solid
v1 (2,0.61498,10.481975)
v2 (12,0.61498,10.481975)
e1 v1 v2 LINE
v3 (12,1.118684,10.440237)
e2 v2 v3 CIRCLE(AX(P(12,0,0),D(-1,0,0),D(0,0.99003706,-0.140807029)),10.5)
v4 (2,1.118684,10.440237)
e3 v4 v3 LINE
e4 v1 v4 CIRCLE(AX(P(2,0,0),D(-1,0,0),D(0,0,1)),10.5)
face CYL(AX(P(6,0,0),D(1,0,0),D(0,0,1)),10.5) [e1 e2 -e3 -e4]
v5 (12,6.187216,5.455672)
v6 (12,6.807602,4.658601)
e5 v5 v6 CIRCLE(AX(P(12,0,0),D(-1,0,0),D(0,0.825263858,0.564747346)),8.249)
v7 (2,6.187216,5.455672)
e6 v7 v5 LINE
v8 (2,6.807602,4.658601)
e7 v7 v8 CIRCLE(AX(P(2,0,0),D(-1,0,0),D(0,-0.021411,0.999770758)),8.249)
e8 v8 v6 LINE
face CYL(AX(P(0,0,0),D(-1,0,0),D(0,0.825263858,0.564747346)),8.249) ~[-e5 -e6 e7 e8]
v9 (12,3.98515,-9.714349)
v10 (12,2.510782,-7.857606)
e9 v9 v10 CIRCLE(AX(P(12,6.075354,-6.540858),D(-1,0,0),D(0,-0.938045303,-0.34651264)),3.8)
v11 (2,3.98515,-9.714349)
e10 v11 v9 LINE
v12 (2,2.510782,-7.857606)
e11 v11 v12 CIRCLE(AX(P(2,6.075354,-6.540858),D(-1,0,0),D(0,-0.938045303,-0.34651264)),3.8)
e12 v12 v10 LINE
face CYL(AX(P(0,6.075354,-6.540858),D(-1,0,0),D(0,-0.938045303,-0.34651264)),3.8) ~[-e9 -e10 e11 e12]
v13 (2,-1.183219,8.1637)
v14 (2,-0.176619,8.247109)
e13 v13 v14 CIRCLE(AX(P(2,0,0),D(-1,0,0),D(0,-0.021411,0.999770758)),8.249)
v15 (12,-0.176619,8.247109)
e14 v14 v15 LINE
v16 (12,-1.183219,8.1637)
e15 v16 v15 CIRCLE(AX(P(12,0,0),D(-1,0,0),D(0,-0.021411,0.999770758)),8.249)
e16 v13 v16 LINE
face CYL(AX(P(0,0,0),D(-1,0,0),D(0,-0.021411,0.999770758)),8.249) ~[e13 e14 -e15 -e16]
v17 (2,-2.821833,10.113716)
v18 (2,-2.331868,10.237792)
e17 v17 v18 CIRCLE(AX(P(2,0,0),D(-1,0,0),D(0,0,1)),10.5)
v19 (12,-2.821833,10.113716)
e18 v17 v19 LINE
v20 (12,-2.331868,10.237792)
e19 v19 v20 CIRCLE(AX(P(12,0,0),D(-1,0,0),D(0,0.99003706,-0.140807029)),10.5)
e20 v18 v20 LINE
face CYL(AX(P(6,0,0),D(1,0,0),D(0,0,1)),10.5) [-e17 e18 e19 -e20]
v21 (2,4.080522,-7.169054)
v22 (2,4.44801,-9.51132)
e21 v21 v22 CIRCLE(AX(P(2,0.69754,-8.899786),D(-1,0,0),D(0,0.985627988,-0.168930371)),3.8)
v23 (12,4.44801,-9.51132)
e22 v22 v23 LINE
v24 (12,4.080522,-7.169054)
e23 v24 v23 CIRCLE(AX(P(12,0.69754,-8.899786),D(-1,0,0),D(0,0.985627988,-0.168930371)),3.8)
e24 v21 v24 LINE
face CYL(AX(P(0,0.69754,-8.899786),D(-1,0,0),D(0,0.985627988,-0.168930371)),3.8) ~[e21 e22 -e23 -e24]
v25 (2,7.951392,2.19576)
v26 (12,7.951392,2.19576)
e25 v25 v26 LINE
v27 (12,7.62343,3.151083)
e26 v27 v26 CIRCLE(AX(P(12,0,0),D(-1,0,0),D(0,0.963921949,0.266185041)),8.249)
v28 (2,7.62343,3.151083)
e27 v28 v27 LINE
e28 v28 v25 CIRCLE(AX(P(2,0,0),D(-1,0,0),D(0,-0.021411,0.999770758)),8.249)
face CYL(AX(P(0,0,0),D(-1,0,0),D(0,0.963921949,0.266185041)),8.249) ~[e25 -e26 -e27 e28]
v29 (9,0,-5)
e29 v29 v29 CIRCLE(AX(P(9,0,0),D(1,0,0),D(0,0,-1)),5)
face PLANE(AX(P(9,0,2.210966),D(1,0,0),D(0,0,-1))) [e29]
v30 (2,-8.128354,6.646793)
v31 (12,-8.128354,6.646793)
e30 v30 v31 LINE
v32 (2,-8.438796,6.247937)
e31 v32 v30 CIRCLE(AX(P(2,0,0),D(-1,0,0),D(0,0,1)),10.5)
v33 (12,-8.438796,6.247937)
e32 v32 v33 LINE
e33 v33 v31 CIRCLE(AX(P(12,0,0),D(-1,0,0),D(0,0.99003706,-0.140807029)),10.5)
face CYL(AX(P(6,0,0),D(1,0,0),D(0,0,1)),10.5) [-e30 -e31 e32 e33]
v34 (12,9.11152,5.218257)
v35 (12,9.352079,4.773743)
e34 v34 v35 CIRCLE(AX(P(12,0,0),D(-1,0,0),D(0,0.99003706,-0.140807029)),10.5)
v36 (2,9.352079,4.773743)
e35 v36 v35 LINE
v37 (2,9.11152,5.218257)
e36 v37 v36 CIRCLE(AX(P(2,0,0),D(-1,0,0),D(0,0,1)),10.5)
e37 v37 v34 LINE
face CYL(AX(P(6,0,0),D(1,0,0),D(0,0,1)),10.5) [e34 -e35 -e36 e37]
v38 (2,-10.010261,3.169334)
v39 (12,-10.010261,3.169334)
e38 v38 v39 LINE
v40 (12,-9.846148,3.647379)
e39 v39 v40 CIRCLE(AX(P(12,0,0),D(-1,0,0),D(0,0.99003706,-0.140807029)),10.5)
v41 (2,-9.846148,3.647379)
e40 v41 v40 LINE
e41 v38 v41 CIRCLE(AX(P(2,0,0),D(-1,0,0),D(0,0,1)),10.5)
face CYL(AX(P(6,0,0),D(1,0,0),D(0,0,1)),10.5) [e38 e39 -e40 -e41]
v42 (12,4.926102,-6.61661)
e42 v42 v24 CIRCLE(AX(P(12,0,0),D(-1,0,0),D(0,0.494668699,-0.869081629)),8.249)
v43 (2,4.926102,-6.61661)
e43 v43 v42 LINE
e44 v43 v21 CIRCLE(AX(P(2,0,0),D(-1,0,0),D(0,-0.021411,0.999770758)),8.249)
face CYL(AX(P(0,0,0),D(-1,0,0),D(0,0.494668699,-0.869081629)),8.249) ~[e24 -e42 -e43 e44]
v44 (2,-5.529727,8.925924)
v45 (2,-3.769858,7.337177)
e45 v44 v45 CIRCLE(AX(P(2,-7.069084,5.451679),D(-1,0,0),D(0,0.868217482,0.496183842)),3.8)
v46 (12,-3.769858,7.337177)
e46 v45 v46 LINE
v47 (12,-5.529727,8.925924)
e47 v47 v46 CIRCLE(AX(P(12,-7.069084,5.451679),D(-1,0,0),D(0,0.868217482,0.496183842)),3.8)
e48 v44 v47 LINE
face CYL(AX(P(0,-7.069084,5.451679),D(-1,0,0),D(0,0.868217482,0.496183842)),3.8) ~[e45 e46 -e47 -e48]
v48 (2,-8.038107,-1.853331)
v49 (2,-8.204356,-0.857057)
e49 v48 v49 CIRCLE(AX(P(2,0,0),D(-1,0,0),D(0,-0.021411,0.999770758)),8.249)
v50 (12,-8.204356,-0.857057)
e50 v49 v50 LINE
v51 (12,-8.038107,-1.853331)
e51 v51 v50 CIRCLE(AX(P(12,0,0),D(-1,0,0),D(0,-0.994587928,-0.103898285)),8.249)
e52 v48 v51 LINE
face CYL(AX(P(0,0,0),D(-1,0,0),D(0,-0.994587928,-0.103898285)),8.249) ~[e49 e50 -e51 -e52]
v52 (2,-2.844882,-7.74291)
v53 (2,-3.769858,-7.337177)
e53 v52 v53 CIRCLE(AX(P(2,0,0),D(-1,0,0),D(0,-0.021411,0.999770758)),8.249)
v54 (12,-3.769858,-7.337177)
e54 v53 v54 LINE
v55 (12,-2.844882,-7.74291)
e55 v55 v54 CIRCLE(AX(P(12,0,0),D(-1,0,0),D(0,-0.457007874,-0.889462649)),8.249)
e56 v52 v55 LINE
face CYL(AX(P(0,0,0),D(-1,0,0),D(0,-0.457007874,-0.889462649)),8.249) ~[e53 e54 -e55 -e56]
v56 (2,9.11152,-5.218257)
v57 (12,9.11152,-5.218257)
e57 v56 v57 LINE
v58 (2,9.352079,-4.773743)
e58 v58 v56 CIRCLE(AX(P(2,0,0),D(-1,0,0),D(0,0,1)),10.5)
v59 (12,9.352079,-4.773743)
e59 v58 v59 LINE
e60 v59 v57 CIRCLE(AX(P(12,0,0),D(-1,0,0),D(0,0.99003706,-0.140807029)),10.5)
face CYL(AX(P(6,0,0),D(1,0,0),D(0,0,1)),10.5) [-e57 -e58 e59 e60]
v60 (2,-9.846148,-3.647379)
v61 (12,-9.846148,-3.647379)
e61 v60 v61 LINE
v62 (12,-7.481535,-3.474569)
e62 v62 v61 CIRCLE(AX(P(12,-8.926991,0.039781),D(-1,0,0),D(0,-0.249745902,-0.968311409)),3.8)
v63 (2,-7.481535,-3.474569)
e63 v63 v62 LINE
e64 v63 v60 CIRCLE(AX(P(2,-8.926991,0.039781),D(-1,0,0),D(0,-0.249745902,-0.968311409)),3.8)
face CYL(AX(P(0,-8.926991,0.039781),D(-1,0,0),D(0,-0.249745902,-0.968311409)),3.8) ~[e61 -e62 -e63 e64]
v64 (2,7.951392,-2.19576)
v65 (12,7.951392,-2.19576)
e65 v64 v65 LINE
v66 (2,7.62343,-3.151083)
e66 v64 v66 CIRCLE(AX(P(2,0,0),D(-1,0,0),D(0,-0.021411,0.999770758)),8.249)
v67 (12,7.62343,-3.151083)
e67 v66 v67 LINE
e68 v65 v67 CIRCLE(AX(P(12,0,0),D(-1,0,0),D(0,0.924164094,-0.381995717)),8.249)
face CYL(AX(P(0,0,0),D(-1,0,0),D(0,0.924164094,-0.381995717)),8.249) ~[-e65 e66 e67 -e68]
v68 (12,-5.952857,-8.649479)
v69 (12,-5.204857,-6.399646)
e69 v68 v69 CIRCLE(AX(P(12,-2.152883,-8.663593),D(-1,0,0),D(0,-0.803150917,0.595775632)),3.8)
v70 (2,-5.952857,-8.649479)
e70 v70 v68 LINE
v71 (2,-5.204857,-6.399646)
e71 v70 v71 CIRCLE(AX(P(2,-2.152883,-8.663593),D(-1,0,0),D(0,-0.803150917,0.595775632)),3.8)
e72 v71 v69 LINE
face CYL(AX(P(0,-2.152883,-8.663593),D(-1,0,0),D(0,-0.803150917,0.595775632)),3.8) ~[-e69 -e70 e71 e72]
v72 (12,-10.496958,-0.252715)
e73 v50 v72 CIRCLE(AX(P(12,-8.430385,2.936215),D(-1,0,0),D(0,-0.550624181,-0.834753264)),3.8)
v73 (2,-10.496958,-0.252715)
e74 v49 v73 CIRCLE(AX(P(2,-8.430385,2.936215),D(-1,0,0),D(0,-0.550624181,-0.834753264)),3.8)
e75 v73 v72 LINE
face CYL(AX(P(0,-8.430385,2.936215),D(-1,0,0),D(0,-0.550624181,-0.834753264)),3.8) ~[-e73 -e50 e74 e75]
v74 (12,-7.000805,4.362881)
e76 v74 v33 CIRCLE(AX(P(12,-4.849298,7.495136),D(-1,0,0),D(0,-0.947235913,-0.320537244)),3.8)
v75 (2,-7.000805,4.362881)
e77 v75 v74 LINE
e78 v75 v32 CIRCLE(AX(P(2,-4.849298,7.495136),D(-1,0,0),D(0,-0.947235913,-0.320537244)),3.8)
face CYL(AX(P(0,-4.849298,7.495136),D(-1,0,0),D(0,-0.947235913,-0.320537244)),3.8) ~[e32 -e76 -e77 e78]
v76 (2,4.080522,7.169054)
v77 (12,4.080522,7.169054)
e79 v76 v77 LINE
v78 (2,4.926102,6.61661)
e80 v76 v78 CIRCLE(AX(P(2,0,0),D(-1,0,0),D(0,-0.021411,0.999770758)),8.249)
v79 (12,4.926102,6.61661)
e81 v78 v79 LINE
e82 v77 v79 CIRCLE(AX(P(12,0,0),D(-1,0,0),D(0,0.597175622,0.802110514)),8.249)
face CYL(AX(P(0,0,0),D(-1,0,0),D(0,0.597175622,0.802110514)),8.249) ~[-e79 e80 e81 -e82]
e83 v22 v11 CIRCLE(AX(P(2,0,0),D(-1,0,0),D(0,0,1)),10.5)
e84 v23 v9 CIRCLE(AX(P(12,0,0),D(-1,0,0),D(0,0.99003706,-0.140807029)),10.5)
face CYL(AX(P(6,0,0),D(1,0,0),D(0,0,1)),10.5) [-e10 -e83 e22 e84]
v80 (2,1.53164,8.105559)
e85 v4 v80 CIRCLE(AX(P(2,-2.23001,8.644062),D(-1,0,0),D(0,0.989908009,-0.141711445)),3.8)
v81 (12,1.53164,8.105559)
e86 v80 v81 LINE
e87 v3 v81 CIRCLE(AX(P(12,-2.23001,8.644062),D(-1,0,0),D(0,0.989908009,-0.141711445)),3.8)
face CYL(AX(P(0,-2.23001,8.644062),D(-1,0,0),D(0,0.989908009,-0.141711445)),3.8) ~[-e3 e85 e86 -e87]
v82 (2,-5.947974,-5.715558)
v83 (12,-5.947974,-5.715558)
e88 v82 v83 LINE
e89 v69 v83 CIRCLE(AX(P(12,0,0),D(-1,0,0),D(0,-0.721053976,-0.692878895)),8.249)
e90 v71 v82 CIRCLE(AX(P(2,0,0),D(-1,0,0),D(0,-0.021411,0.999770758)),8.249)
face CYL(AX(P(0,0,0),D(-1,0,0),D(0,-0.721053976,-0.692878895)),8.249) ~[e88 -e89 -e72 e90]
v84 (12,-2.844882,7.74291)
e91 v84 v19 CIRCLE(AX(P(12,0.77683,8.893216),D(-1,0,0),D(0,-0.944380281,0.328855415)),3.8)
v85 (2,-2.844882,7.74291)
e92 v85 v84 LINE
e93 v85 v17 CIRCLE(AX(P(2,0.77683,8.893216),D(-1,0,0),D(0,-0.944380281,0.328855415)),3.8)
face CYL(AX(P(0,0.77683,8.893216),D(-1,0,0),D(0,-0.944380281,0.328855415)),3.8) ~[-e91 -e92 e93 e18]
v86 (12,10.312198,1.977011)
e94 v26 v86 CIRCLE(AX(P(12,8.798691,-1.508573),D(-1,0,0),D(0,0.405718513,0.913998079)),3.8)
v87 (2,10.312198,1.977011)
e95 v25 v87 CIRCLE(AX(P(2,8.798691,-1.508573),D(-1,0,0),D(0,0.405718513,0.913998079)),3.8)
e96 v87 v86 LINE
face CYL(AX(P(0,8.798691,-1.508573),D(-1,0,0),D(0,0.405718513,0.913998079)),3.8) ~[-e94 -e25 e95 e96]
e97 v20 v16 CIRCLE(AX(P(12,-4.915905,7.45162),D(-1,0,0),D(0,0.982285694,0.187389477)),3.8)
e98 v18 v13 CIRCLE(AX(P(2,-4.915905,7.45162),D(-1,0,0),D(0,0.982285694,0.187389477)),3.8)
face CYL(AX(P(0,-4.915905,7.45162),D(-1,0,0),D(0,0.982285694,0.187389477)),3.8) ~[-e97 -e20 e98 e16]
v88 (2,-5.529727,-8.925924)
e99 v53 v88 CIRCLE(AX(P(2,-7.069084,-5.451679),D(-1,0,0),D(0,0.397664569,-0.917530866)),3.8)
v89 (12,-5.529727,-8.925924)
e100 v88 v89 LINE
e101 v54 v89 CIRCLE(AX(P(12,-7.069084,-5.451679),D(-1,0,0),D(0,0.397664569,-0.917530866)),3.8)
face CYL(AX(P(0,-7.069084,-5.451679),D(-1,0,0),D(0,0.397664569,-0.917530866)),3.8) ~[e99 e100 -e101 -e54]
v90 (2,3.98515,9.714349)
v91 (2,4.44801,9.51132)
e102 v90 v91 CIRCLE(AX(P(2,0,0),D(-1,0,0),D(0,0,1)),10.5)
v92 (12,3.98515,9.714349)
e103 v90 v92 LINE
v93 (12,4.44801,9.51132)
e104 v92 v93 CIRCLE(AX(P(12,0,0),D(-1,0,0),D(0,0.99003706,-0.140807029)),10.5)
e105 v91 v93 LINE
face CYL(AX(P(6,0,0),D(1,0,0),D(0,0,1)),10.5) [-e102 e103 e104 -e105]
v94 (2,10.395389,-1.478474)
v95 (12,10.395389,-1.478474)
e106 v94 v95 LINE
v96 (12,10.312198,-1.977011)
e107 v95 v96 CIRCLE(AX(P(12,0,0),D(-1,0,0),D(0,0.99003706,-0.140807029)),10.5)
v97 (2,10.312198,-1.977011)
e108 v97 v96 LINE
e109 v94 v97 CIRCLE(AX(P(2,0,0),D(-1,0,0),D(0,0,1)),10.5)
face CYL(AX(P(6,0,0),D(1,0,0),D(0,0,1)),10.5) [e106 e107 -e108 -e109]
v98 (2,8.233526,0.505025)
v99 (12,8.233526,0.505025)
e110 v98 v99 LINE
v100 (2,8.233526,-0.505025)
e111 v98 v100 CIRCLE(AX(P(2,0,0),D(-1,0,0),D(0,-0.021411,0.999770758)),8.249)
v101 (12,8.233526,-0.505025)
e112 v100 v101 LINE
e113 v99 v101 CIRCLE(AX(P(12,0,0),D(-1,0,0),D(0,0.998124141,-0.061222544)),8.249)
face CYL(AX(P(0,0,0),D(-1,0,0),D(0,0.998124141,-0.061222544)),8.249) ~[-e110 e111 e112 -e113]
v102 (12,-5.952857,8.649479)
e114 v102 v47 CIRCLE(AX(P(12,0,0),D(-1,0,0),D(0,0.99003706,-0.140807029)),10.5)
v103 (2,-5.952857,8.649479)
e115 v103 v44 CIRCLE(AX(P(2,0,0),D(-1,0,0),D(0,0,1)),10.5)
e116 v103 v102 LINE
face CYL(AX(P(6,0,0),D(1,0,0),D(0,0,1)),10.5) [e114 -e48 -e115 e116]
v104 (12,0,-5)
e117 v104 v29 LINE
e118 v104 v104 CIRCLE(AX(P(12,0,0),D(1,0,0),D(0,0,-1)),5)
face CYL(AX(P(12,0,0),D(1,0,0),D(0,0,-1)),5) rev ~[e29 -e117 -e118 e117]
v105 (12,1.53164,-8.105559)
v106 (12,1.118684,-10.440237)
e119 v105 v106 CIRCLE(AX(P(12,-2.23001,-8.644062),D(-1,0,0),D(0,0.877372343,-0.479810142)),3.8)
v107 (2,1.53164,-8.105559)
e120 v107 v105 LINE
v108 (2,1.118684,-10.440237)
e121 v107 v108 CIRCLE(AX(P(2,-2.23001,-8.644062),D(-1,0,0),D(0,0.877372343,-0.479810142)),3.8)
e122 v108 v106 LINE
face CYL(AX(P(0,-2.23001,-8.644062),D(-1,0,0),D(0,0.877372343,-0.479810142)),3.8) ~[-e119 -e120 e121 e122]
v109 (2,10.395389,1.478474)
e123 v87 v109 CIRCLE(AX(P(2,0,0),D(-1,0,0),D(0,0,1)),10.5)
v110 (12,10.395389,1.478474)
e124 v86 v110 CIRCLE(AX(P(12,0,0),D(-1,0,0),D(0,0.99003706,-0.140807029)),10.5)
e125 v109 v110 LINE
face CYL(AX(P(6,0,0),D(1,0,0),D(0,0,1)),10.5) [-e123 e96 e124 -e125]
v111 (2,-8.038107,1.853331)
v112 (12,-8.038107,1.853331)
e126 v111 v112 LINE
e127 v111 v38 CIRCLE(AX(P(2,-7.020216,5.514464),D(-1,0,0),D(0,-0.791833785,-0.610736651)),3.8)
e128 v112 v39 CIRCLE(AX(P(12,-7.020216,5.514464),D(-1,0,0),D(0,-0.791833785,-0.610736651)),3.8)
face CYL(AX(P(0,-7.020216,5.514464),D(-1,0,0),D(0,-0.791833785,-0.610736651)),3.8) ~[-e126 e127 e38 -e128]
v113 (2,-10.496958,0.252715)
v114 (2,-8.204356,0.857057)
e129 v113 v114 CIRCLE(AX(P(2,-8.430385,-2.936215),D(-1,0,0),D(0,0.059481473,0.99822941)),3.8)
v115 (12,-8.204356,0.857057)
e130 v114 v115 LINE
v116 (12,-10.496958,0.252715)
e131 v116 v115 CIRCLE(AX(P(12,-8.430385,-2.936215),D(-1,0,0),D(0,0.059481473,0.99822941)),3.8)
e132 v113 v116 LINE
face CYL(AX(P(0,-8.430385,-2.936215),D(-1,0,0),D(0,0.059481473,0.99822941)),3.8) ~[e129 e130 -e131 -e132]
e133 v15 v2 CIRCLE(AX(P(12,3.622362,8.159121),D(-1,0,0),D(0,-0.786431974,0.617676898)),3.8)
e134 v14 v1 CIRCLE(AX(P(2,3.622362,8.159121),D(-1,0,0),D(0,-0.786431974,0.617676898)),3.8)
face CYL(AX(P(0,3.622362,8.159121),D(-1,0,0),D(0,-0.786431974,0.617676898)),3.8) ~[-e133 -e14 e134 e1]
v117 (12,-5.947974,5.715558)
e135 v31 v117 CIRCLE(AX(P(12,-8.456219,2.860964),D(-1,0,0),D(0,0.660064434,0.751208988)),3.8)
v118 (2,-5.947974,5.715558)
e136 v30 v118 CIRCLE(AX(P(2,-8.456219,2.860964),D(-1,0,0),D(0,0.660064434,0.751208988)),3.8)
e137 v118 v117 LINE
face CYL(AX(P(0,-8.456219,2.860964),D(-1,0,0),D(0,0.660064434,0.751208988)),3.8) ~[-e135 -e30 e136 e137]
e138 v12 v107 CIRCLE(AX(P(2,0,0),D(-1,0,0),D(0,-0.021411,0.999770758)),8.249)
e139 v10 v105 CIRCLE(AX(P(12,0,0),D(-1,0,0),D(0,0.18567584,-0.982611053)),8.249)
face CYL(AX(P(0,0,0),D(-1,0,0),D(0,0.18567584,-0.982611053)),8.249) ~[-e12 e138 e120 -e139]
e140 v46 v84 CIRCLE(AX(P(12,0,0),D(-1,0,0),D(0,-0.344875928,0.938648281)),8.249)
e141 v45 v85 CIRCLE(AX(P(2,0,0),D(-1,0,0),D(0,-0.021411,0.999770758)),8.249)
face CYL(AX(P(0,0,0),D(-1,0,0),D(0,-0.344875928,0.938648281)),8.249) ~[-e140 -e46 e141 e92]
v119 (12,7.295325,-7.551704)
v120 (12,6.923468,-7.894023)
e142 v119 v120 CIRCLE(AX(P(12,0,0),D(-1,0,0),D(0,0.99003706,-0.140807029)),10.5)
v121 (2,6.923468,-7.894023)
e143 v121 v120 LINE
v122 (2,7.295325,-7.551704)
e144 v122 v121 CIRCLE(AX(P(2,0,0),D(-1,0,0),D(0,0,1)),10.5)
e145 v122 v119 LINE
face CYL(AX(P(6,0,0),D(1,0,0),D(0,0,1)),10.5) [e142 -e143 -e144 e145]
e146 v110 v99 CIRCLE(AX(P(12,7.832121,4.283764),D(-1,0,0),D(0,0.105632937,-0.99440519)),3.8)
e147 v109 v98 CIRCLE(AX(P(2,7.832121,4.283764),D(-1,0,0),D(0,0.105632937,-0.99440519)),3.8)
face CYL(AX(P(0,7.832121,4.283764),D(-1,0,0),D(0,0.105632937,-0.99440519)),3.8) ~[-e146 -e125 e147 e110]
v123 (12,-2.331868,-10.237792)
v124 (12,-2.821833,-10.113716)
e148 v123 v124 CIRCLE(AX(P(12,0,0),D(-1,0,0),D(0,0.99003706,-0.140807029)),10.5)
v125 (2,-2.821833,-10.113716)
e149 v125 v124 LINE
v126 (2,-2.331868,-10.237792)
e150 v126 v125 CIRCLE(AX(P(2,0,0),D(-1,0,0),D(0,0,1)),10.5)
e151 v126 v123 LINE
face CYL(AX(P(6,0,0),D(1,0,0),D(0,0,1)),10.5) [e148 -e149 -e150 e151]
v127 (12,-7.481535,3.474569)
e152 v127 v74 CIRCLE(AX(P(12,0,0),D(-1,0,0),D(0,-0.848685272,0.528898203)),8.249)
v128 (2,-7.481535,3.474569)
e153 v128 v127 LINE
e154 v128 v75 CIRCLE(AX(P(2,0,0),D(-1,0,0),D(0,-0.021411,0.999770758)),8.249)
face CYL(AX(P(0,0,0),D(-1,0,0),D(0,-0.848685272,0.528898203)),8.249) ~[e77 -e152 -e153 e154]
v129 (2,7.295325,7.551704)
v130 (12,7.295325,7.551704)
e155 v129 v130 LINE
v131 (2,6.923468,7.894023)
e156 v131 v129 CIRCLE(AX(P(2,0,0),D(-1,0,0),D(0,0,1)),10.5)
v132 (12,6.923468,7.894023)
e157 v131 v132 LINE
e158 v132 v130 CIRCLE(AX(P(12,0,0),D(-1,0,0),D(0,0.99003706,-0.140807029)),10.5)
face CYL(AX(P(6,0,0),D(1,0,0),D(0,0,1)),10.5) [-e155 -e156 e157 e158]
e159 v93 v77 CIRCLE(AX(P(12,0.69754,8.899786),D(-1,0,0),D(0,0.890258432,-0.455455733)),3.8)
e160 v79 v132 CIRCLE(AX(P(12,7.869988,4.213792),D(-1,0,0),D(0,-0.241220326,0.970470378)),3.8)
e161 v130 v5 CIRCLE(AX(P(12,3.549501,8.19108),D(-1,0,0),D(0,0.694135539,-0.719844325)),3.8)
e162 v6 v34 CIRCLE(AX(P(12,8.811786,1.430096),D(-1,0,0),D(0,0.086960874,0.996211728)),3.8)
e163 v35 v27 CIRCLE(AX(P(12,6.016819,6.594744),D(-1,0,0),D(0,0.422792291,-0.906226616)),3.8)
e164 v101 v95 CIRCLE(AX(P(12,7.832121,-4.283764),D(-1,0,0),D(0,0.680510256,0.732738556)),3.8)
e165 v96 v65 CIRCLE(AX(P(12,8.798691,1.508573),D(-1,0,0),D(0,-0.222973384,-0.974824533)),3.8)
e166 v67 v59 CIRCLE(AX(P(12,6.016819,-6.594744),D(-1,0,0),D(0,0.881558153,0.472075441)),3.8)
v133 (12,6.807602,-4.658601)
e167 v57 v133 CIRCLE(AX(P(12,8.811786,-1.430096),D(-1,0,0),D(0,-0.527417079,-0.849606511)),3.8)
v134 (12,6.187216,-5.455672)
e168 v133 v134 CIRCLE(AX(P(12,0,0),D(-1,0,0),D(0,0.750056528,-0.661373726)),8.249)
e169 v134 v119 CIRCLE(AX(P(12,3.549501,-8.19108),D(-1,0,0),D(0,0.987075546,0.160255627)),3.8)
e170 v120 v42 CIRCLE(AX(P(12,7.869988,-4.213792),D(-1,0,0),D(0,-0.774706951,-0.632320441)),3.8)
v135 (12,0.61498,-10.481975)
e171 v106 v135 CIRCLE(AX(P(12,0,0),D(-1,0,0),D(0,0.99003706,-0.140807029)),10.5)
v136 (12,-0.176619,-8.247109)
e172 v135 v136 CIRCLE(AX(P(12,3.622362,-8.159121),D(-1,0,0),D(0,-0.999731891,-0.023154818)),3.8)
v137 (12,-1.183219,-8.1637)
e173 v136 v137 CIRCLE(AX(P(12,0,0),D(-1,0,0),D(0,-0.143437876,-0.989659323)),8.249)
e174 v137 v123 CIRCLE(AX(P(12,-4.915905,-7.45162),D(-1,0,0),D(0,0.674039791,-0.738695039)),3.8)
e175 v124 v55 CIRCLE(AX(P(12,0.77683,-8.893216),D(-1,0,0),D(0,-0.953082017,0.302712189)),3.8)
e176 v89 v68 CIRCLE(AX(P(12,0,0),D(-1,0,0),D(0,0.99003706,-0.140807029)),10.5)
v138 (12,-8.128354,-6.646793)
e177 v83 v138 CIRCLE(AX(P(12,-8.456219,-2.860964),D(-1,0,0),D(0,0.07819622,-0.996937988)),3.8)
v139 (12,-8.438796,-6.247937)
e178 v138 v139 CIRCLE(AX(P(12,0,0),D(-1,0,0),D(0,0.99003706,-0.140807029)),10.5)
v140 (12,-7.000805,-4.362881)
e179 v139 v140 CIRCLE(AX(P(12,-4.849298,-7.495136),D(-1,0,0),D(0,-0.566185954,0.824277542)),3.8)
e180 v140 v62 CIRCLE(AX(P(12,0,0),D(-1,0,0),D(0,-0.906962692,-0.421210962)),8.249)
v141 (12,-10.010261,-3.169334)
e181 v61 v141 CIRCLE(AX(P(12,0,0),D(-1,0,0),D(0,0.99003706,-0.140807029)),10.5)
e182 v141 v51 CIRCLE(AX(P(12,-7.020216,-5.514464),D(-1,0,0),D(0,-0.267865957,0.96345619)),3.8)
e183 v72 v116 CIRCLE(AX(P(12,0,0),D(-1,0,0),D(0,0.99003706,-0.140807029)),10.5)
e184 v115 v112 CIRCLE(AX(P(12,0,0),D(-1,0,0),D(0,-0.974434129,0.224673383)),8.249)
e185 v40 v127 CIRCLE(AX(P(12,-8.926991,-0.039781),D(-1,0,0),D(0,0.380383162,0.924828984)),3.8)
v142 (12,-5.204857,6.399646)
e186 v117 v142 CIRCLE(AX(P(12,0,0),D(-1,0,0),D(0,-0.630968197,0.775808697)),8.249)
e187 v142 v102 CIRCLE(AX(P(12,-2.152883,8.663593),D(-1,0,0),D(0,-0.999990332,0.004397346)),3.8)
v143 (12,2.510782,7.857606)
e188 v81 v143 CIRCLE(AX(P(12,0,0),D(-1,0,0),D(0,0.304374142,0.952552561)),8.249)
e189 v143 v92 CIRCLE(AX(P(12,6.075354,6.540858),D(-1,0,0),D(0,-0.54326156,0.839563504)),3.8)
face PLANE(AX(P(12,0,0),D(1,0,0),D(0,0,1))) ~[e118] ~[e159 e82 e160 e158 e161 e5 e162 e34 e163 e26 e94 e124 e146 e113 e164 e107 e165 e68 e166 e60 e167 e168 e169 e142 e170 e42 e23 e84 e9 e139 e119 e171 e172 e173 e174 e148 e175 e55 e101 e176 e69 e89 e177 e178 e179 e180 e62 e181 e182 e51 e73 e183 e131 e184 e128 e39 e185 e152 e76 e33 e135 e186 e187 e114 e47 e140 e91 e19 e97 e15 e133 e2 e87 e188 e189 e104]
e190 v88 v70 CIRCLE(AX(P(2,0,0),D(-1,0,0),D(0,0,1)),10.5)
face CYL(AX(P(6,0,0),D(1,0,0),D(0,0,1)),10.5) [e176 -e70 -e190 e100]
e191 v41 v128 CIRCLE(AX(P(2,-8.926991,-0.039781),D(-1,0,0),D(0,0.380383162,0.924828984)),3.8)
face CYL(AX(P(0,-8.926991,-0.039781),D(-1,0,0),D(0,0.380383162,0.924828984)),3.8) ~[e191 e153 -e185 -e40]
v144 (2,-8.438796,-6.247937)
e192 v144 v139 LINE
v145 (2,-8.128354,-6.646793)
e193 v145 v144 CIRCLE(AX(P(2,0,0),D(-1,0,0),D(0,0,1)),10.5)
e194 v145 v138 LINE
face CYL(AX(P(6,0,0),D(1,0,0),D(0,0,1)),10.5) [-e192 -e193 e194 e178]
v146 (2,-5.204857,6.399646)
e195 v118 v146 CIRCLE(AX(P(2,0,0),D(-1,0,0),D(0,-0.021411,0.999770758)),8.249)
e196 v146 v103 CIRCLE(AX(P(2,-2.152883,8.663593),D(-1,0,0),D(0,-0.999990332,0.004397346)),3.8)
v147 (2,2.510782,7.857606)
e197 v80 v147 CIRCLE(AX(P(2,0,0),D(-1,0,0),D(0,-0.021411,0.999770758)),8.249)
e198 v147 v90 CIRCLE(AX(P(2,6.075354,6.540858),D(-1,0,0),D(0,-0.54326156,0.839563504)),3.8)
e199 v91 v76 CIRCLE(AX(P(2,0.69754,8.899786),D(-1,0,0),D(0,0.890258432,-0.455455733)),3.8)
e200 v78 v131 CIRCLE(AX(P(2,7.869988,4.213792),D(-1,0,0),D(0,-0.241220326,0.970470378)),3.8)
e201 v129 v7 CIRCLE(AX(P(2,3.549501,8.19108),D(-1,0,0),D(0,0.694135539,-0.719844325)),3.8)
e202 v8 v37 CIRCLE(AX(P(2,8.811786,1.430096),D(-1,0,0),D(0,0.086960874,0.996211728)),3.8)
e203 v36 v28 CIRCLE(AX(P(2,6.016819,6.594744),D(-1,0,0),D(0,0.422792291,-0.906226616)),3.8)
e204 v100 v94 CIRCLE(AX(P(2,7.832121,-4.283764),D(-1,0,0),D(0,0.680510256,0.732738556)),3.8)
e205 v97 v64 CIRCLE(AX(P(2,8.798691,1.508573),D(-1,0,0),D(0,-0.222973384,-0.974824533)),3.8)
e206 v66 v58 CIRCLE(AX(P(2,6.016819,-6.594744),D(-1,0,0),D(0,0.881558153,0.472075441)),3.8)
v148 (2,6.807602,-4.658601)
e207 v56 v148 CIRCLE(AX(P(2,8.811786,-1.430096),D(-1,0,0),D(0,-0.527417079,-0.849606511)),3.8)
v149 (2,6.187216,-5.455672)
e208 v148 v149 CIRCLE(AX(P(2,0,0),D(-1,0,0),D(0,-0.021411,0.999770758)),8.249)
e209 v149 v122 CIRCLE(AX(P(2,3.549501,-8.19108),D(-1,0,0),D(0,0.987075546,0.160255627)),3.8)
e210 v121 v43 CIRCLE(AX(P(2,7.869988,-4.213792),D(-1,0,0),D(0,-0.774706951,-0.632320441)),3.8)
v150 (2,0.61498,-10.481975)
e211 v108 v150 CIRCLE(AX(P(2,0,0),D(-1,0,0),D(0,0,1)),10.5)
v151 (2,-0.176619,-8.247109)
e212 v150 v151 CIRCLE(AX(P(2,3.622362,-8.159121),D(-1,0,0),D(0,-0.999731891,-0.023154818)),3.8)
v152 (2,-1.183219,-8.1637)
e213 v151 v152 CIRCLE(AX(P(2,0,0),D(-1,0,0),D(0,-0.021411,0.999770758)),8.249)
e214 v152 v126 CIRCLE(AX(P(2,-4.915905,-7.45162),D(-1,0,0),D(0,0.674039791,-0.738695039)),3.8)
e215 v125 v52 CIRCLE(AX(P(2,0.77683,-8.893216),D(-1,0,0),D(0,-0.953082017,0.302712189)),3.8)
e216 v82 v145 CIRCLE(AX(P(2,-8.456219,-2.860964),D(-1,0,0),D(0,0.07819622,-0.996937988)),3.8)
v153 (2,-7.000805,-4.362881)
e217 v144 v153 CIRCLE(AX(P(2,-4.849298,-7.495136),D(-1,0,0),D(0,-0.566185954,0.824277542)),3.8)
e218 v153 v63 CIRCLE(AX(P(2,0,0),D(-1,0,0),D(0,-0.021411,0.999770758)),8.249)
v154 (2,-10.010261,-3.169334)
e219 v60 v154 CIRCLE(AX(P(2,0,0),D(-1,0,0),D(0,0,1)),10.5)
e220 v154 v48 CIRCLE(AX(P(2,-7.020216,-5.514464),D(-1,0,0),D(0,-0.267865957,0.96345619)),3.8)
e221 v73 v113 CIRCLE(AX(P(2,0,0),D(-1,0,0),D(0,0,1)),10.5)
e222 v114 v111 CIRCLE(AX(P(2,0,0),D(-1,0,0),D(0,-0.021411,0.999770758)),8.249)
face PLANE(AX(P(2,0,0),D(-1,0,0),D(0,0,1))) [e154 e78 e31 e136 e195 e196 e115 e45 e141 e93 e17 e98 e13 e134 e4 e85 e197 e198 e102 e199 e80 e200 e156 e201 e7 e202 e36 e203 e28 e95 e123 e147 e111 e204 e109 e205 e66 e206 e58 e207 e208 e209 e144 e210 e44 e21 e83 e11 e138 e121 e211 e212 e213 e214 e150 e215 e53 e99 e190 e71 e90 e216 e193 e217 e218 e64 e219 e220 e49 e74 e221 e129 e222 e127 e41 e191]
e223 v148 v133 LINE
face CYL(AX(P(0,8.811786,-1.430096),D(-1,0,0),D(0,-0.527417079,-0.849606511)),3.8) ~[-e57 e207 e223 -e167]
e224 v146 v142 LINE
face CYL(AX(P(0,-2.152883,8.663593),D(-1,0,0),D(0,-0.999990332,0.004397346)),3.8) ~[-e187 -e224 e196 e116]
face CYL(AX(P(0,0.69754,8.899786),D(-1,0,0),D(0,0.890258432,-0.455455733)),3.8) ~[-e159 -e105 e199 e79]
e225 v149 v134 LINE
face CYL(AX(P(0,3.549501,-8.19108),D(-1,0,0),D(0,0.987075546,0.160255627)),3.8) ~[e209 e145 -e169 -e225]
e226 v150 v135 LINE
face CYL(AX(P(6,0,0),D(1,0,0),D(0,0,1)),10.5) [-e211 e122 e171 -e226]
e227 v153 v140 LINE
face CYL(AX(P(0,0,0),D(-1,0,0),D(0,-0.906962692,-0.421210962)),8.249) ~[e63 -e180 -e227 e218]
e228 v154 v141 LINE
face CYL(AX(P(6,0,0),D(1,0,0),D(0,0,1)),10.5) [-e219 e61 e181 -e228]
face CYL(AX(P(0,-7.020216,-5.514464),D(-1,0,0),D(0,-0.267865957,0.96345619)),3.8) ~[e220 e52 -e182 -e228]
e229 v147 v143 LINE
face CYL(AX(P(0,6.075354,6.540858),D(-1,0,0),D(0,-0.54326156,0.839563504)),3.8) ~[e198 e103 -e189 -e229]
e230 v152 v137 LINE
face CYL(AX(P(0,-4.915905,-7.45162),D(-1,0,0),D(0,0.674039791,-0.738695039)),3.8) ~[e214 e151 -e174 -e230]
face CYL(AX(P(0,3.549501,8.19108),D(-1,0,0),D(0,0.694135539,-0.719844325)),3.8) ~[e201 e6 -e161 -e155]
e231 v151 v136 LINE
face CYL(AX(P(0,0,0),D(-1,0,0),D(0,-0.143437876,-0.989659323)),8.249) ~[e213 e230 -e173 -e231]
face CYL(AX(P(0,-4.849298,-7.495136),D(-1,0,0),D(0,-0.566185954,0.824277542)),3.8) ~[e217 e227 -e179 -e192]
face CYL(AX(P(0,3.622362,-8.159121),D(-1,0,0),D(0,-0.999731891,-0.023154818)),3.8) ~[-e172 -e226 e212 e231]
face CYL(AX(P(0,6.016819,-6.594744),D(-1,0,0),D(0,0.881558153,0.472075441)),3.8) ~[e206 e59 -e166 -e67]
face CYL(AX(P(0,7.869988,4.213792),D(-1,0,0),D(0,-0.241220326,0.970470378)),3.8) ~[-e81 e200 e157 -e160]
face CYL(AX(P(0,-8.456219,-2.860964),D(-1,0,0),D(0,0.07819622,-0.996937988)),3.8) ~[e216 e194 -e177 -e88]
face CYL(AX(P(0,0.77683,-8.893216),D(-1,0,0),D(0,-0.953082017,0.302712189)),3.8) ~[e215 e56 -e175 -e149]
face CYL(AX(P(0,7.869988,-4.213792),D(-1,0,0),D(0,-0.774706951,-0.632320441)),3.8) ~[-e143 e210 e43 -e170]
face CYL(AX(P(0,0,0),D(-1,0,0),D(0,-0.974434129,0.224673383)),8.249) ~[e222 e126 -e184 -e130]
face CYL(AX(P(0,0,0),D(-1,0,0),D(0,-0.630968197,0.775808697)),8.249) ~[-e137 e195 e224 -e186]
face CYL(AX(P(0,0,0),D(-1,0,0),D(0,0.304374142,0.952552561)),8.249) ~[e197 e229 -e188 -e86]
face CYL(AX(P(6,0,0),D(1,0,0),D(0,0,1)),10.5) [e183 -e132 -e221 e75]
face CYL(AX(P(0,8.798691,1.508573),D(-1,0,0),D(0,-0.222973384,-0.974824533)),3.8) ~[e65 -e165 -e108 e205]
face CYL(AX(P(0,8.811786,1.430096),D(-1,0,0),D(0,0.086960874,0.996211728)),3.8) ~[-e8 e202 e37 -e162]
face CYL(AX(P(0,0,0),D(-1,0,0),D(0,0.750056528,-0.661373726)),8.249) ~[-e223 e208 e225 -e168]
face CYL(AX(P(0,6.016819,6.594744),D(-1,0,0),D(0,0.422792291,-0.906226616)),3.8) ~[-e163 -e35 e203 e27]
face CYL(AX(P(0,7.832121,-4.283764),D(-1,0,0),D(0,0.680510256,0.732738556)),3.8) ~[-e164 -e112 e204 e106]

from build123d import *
from build123d.topology import SkipClean

# Parameters (mm, degrees)
BASPROSKE_W         = 12
BASPROSKE_H         = 10.5
TOOTHCUT_DEPTH      = 20.091883092
TEETHCUTS_COUNT     = 19
BORSKE_R            = 2.5
BORE_DEPTH          = 50.0000508
SKETCH1_R           = 5
CUT_EXTRUDE1_DEPTH  = 3
BOSS_EXTRUDE1_DEPTH = 9
SKETCH3_R           = 10.5
SKETCH3_R_2         = 8.249
CUT_EXTRUDE2_DEPTH  = 2
SKETCH4_R           = 8.249
CUT_EXTRUDE3_DEPTH  = 2
BOSS_EXTRUDE3_START = -7
SKETCH5_R           = 2.5
BOSS_EXTRUDE3_DEPTH = 7


with BuildPart() as part:
    # BasProSke → Base-Revolve (revolve)
    with BuildSketch(Plane(origin=(0, 0, 0), x_dir=(1, 0, 0), z_dir=(0, 1, 0)), mode=Mode.PRIVATE) as base_revolve_sk:
        with Locations((6, 5.25)):
            Rectangle(BASPROSKE_W, BASPROSKE_H)
    revolve(base_revolve_sk.sketch.rotate(Axis((-10, 0, 0), (1, 0, 0)), 180), axis=Axis((-10, 0, 0), (1, 0, 0)))

    # TooCutSke → ToothCut (cut, through all)
    with BuildSketch(Plane(origin=(0, 0, 0), x_dir=(0, 0, -1), z_dir=(1, 0, 0))):
        with BuildLine():
            ThreePointArc((0.505024765, 8.233526036), (0, 8.249), (-0.505024765, 8.233526036))
            ThreePointArc((-0.505024765, 8.233526036), (-0.825185426, 9.406360648), (-1.499357972, 10.41805984))
            ThreePointArc((-1.499357972, 10.41805984), (0, 10.5254), (1.499357972, 10.41805984))
            ThreePointArc((1.499357972, 10.41805984), (0.825185426, 9.406360648), (0.505024765, 8.233526036))
        make_face()
    toothcut = extrude(amount=TOOTHCUT_DEPTH, mode=Mode.SUBTRACT)

    # TeethCuts: ToothCut ×19 about axis
    teethcuts_axis = Axis((0, 0, 0), (1, 0, 0))
    for i in range(1, TEETHCUTS_COUNT):
        add(toothcut.rotate(teethcuts_axis, i * 360 / TEETHCUTS_COUNT), mode=Mode.SUBTRACT)

    # BorSke → Bore (cut, symmetric)
    with BuildSketch(Plane(origin=(0, 0, 0), x_dir=(0, 0, -1), z_dir=(1, 0, 0))):
        with Locations(Location((0, 0, 0), (0, 0, 180))):
            Circle(BORSKE_R)
    extrude(amount=BORE_DEPTH, both=True, mode=Mode.SUBTRACT)

    # Sketch1 → Cut-Extrude1 (cut)
    with BuildSketch(Plane(origin=(12, 0, 0), x_dir=(0, 0, -1), z_dir=(1, 0, 0))):
        Circle(SKETCH1_R)
    extrude(amount=-CUT_EXTRUDE1_DEPTH, mode=Mode.SUBTRACT)

    # Sketch2 → Boss-Extrude1 (add)
    with BuildSketch(Plane(origin=(9, 0, 0), x_dir=(0, 0, -1), z_dir=(1, 0, 0))):
        with BuildLine():
            Line((-2.085372664, -1.378847653), (-2.085372664, 1.378847653))
            ThreePointArc((-2.085372664, 1.378847653), (-2.5, 0), (-2.085372664, -1.378847653))
        make_face()
    extrude(amount=-BOSS_EXTRUDE1_DEPTH)

    # Sketch3 → Cut-Extrude2 (cut)
    with SkipClean():  # the faces are left unmerged after this step: merging them gives an invalid solid
        with BuildSketch(Plane.ZY):
            Circle(SKETCH3_R)
            with Locations(Location((0, 0, 0), (0, 0, 358.773146294))):
                Circle(SKETCH3_R_2, mode=Mode.SUBTRACT)
        extrude(amount=-CUT_EXTRUDE2_DEPTH, mode=Mode.SUBTRACT)

    # Sketch4 → Cut-Extrude3 (cut)
    with BuildSketch(Plane.ZY):
        Circle(SKETCH4_R)
    extrude(amount=-CUT_EXTRUDE3_DEPTH, mode=Mode.SUBTRACT)

    # Sketch5 → Boss-Extrude3 (add)
    with BuildSketch(Plane.ZY.offset(-2).offset(BOSS_EXTRUDE3_START)):
        Circle(SKETCH5_R)
    extrude(amount=BOSS_EXTRUDE3_DEPTH)


solid = part.part
